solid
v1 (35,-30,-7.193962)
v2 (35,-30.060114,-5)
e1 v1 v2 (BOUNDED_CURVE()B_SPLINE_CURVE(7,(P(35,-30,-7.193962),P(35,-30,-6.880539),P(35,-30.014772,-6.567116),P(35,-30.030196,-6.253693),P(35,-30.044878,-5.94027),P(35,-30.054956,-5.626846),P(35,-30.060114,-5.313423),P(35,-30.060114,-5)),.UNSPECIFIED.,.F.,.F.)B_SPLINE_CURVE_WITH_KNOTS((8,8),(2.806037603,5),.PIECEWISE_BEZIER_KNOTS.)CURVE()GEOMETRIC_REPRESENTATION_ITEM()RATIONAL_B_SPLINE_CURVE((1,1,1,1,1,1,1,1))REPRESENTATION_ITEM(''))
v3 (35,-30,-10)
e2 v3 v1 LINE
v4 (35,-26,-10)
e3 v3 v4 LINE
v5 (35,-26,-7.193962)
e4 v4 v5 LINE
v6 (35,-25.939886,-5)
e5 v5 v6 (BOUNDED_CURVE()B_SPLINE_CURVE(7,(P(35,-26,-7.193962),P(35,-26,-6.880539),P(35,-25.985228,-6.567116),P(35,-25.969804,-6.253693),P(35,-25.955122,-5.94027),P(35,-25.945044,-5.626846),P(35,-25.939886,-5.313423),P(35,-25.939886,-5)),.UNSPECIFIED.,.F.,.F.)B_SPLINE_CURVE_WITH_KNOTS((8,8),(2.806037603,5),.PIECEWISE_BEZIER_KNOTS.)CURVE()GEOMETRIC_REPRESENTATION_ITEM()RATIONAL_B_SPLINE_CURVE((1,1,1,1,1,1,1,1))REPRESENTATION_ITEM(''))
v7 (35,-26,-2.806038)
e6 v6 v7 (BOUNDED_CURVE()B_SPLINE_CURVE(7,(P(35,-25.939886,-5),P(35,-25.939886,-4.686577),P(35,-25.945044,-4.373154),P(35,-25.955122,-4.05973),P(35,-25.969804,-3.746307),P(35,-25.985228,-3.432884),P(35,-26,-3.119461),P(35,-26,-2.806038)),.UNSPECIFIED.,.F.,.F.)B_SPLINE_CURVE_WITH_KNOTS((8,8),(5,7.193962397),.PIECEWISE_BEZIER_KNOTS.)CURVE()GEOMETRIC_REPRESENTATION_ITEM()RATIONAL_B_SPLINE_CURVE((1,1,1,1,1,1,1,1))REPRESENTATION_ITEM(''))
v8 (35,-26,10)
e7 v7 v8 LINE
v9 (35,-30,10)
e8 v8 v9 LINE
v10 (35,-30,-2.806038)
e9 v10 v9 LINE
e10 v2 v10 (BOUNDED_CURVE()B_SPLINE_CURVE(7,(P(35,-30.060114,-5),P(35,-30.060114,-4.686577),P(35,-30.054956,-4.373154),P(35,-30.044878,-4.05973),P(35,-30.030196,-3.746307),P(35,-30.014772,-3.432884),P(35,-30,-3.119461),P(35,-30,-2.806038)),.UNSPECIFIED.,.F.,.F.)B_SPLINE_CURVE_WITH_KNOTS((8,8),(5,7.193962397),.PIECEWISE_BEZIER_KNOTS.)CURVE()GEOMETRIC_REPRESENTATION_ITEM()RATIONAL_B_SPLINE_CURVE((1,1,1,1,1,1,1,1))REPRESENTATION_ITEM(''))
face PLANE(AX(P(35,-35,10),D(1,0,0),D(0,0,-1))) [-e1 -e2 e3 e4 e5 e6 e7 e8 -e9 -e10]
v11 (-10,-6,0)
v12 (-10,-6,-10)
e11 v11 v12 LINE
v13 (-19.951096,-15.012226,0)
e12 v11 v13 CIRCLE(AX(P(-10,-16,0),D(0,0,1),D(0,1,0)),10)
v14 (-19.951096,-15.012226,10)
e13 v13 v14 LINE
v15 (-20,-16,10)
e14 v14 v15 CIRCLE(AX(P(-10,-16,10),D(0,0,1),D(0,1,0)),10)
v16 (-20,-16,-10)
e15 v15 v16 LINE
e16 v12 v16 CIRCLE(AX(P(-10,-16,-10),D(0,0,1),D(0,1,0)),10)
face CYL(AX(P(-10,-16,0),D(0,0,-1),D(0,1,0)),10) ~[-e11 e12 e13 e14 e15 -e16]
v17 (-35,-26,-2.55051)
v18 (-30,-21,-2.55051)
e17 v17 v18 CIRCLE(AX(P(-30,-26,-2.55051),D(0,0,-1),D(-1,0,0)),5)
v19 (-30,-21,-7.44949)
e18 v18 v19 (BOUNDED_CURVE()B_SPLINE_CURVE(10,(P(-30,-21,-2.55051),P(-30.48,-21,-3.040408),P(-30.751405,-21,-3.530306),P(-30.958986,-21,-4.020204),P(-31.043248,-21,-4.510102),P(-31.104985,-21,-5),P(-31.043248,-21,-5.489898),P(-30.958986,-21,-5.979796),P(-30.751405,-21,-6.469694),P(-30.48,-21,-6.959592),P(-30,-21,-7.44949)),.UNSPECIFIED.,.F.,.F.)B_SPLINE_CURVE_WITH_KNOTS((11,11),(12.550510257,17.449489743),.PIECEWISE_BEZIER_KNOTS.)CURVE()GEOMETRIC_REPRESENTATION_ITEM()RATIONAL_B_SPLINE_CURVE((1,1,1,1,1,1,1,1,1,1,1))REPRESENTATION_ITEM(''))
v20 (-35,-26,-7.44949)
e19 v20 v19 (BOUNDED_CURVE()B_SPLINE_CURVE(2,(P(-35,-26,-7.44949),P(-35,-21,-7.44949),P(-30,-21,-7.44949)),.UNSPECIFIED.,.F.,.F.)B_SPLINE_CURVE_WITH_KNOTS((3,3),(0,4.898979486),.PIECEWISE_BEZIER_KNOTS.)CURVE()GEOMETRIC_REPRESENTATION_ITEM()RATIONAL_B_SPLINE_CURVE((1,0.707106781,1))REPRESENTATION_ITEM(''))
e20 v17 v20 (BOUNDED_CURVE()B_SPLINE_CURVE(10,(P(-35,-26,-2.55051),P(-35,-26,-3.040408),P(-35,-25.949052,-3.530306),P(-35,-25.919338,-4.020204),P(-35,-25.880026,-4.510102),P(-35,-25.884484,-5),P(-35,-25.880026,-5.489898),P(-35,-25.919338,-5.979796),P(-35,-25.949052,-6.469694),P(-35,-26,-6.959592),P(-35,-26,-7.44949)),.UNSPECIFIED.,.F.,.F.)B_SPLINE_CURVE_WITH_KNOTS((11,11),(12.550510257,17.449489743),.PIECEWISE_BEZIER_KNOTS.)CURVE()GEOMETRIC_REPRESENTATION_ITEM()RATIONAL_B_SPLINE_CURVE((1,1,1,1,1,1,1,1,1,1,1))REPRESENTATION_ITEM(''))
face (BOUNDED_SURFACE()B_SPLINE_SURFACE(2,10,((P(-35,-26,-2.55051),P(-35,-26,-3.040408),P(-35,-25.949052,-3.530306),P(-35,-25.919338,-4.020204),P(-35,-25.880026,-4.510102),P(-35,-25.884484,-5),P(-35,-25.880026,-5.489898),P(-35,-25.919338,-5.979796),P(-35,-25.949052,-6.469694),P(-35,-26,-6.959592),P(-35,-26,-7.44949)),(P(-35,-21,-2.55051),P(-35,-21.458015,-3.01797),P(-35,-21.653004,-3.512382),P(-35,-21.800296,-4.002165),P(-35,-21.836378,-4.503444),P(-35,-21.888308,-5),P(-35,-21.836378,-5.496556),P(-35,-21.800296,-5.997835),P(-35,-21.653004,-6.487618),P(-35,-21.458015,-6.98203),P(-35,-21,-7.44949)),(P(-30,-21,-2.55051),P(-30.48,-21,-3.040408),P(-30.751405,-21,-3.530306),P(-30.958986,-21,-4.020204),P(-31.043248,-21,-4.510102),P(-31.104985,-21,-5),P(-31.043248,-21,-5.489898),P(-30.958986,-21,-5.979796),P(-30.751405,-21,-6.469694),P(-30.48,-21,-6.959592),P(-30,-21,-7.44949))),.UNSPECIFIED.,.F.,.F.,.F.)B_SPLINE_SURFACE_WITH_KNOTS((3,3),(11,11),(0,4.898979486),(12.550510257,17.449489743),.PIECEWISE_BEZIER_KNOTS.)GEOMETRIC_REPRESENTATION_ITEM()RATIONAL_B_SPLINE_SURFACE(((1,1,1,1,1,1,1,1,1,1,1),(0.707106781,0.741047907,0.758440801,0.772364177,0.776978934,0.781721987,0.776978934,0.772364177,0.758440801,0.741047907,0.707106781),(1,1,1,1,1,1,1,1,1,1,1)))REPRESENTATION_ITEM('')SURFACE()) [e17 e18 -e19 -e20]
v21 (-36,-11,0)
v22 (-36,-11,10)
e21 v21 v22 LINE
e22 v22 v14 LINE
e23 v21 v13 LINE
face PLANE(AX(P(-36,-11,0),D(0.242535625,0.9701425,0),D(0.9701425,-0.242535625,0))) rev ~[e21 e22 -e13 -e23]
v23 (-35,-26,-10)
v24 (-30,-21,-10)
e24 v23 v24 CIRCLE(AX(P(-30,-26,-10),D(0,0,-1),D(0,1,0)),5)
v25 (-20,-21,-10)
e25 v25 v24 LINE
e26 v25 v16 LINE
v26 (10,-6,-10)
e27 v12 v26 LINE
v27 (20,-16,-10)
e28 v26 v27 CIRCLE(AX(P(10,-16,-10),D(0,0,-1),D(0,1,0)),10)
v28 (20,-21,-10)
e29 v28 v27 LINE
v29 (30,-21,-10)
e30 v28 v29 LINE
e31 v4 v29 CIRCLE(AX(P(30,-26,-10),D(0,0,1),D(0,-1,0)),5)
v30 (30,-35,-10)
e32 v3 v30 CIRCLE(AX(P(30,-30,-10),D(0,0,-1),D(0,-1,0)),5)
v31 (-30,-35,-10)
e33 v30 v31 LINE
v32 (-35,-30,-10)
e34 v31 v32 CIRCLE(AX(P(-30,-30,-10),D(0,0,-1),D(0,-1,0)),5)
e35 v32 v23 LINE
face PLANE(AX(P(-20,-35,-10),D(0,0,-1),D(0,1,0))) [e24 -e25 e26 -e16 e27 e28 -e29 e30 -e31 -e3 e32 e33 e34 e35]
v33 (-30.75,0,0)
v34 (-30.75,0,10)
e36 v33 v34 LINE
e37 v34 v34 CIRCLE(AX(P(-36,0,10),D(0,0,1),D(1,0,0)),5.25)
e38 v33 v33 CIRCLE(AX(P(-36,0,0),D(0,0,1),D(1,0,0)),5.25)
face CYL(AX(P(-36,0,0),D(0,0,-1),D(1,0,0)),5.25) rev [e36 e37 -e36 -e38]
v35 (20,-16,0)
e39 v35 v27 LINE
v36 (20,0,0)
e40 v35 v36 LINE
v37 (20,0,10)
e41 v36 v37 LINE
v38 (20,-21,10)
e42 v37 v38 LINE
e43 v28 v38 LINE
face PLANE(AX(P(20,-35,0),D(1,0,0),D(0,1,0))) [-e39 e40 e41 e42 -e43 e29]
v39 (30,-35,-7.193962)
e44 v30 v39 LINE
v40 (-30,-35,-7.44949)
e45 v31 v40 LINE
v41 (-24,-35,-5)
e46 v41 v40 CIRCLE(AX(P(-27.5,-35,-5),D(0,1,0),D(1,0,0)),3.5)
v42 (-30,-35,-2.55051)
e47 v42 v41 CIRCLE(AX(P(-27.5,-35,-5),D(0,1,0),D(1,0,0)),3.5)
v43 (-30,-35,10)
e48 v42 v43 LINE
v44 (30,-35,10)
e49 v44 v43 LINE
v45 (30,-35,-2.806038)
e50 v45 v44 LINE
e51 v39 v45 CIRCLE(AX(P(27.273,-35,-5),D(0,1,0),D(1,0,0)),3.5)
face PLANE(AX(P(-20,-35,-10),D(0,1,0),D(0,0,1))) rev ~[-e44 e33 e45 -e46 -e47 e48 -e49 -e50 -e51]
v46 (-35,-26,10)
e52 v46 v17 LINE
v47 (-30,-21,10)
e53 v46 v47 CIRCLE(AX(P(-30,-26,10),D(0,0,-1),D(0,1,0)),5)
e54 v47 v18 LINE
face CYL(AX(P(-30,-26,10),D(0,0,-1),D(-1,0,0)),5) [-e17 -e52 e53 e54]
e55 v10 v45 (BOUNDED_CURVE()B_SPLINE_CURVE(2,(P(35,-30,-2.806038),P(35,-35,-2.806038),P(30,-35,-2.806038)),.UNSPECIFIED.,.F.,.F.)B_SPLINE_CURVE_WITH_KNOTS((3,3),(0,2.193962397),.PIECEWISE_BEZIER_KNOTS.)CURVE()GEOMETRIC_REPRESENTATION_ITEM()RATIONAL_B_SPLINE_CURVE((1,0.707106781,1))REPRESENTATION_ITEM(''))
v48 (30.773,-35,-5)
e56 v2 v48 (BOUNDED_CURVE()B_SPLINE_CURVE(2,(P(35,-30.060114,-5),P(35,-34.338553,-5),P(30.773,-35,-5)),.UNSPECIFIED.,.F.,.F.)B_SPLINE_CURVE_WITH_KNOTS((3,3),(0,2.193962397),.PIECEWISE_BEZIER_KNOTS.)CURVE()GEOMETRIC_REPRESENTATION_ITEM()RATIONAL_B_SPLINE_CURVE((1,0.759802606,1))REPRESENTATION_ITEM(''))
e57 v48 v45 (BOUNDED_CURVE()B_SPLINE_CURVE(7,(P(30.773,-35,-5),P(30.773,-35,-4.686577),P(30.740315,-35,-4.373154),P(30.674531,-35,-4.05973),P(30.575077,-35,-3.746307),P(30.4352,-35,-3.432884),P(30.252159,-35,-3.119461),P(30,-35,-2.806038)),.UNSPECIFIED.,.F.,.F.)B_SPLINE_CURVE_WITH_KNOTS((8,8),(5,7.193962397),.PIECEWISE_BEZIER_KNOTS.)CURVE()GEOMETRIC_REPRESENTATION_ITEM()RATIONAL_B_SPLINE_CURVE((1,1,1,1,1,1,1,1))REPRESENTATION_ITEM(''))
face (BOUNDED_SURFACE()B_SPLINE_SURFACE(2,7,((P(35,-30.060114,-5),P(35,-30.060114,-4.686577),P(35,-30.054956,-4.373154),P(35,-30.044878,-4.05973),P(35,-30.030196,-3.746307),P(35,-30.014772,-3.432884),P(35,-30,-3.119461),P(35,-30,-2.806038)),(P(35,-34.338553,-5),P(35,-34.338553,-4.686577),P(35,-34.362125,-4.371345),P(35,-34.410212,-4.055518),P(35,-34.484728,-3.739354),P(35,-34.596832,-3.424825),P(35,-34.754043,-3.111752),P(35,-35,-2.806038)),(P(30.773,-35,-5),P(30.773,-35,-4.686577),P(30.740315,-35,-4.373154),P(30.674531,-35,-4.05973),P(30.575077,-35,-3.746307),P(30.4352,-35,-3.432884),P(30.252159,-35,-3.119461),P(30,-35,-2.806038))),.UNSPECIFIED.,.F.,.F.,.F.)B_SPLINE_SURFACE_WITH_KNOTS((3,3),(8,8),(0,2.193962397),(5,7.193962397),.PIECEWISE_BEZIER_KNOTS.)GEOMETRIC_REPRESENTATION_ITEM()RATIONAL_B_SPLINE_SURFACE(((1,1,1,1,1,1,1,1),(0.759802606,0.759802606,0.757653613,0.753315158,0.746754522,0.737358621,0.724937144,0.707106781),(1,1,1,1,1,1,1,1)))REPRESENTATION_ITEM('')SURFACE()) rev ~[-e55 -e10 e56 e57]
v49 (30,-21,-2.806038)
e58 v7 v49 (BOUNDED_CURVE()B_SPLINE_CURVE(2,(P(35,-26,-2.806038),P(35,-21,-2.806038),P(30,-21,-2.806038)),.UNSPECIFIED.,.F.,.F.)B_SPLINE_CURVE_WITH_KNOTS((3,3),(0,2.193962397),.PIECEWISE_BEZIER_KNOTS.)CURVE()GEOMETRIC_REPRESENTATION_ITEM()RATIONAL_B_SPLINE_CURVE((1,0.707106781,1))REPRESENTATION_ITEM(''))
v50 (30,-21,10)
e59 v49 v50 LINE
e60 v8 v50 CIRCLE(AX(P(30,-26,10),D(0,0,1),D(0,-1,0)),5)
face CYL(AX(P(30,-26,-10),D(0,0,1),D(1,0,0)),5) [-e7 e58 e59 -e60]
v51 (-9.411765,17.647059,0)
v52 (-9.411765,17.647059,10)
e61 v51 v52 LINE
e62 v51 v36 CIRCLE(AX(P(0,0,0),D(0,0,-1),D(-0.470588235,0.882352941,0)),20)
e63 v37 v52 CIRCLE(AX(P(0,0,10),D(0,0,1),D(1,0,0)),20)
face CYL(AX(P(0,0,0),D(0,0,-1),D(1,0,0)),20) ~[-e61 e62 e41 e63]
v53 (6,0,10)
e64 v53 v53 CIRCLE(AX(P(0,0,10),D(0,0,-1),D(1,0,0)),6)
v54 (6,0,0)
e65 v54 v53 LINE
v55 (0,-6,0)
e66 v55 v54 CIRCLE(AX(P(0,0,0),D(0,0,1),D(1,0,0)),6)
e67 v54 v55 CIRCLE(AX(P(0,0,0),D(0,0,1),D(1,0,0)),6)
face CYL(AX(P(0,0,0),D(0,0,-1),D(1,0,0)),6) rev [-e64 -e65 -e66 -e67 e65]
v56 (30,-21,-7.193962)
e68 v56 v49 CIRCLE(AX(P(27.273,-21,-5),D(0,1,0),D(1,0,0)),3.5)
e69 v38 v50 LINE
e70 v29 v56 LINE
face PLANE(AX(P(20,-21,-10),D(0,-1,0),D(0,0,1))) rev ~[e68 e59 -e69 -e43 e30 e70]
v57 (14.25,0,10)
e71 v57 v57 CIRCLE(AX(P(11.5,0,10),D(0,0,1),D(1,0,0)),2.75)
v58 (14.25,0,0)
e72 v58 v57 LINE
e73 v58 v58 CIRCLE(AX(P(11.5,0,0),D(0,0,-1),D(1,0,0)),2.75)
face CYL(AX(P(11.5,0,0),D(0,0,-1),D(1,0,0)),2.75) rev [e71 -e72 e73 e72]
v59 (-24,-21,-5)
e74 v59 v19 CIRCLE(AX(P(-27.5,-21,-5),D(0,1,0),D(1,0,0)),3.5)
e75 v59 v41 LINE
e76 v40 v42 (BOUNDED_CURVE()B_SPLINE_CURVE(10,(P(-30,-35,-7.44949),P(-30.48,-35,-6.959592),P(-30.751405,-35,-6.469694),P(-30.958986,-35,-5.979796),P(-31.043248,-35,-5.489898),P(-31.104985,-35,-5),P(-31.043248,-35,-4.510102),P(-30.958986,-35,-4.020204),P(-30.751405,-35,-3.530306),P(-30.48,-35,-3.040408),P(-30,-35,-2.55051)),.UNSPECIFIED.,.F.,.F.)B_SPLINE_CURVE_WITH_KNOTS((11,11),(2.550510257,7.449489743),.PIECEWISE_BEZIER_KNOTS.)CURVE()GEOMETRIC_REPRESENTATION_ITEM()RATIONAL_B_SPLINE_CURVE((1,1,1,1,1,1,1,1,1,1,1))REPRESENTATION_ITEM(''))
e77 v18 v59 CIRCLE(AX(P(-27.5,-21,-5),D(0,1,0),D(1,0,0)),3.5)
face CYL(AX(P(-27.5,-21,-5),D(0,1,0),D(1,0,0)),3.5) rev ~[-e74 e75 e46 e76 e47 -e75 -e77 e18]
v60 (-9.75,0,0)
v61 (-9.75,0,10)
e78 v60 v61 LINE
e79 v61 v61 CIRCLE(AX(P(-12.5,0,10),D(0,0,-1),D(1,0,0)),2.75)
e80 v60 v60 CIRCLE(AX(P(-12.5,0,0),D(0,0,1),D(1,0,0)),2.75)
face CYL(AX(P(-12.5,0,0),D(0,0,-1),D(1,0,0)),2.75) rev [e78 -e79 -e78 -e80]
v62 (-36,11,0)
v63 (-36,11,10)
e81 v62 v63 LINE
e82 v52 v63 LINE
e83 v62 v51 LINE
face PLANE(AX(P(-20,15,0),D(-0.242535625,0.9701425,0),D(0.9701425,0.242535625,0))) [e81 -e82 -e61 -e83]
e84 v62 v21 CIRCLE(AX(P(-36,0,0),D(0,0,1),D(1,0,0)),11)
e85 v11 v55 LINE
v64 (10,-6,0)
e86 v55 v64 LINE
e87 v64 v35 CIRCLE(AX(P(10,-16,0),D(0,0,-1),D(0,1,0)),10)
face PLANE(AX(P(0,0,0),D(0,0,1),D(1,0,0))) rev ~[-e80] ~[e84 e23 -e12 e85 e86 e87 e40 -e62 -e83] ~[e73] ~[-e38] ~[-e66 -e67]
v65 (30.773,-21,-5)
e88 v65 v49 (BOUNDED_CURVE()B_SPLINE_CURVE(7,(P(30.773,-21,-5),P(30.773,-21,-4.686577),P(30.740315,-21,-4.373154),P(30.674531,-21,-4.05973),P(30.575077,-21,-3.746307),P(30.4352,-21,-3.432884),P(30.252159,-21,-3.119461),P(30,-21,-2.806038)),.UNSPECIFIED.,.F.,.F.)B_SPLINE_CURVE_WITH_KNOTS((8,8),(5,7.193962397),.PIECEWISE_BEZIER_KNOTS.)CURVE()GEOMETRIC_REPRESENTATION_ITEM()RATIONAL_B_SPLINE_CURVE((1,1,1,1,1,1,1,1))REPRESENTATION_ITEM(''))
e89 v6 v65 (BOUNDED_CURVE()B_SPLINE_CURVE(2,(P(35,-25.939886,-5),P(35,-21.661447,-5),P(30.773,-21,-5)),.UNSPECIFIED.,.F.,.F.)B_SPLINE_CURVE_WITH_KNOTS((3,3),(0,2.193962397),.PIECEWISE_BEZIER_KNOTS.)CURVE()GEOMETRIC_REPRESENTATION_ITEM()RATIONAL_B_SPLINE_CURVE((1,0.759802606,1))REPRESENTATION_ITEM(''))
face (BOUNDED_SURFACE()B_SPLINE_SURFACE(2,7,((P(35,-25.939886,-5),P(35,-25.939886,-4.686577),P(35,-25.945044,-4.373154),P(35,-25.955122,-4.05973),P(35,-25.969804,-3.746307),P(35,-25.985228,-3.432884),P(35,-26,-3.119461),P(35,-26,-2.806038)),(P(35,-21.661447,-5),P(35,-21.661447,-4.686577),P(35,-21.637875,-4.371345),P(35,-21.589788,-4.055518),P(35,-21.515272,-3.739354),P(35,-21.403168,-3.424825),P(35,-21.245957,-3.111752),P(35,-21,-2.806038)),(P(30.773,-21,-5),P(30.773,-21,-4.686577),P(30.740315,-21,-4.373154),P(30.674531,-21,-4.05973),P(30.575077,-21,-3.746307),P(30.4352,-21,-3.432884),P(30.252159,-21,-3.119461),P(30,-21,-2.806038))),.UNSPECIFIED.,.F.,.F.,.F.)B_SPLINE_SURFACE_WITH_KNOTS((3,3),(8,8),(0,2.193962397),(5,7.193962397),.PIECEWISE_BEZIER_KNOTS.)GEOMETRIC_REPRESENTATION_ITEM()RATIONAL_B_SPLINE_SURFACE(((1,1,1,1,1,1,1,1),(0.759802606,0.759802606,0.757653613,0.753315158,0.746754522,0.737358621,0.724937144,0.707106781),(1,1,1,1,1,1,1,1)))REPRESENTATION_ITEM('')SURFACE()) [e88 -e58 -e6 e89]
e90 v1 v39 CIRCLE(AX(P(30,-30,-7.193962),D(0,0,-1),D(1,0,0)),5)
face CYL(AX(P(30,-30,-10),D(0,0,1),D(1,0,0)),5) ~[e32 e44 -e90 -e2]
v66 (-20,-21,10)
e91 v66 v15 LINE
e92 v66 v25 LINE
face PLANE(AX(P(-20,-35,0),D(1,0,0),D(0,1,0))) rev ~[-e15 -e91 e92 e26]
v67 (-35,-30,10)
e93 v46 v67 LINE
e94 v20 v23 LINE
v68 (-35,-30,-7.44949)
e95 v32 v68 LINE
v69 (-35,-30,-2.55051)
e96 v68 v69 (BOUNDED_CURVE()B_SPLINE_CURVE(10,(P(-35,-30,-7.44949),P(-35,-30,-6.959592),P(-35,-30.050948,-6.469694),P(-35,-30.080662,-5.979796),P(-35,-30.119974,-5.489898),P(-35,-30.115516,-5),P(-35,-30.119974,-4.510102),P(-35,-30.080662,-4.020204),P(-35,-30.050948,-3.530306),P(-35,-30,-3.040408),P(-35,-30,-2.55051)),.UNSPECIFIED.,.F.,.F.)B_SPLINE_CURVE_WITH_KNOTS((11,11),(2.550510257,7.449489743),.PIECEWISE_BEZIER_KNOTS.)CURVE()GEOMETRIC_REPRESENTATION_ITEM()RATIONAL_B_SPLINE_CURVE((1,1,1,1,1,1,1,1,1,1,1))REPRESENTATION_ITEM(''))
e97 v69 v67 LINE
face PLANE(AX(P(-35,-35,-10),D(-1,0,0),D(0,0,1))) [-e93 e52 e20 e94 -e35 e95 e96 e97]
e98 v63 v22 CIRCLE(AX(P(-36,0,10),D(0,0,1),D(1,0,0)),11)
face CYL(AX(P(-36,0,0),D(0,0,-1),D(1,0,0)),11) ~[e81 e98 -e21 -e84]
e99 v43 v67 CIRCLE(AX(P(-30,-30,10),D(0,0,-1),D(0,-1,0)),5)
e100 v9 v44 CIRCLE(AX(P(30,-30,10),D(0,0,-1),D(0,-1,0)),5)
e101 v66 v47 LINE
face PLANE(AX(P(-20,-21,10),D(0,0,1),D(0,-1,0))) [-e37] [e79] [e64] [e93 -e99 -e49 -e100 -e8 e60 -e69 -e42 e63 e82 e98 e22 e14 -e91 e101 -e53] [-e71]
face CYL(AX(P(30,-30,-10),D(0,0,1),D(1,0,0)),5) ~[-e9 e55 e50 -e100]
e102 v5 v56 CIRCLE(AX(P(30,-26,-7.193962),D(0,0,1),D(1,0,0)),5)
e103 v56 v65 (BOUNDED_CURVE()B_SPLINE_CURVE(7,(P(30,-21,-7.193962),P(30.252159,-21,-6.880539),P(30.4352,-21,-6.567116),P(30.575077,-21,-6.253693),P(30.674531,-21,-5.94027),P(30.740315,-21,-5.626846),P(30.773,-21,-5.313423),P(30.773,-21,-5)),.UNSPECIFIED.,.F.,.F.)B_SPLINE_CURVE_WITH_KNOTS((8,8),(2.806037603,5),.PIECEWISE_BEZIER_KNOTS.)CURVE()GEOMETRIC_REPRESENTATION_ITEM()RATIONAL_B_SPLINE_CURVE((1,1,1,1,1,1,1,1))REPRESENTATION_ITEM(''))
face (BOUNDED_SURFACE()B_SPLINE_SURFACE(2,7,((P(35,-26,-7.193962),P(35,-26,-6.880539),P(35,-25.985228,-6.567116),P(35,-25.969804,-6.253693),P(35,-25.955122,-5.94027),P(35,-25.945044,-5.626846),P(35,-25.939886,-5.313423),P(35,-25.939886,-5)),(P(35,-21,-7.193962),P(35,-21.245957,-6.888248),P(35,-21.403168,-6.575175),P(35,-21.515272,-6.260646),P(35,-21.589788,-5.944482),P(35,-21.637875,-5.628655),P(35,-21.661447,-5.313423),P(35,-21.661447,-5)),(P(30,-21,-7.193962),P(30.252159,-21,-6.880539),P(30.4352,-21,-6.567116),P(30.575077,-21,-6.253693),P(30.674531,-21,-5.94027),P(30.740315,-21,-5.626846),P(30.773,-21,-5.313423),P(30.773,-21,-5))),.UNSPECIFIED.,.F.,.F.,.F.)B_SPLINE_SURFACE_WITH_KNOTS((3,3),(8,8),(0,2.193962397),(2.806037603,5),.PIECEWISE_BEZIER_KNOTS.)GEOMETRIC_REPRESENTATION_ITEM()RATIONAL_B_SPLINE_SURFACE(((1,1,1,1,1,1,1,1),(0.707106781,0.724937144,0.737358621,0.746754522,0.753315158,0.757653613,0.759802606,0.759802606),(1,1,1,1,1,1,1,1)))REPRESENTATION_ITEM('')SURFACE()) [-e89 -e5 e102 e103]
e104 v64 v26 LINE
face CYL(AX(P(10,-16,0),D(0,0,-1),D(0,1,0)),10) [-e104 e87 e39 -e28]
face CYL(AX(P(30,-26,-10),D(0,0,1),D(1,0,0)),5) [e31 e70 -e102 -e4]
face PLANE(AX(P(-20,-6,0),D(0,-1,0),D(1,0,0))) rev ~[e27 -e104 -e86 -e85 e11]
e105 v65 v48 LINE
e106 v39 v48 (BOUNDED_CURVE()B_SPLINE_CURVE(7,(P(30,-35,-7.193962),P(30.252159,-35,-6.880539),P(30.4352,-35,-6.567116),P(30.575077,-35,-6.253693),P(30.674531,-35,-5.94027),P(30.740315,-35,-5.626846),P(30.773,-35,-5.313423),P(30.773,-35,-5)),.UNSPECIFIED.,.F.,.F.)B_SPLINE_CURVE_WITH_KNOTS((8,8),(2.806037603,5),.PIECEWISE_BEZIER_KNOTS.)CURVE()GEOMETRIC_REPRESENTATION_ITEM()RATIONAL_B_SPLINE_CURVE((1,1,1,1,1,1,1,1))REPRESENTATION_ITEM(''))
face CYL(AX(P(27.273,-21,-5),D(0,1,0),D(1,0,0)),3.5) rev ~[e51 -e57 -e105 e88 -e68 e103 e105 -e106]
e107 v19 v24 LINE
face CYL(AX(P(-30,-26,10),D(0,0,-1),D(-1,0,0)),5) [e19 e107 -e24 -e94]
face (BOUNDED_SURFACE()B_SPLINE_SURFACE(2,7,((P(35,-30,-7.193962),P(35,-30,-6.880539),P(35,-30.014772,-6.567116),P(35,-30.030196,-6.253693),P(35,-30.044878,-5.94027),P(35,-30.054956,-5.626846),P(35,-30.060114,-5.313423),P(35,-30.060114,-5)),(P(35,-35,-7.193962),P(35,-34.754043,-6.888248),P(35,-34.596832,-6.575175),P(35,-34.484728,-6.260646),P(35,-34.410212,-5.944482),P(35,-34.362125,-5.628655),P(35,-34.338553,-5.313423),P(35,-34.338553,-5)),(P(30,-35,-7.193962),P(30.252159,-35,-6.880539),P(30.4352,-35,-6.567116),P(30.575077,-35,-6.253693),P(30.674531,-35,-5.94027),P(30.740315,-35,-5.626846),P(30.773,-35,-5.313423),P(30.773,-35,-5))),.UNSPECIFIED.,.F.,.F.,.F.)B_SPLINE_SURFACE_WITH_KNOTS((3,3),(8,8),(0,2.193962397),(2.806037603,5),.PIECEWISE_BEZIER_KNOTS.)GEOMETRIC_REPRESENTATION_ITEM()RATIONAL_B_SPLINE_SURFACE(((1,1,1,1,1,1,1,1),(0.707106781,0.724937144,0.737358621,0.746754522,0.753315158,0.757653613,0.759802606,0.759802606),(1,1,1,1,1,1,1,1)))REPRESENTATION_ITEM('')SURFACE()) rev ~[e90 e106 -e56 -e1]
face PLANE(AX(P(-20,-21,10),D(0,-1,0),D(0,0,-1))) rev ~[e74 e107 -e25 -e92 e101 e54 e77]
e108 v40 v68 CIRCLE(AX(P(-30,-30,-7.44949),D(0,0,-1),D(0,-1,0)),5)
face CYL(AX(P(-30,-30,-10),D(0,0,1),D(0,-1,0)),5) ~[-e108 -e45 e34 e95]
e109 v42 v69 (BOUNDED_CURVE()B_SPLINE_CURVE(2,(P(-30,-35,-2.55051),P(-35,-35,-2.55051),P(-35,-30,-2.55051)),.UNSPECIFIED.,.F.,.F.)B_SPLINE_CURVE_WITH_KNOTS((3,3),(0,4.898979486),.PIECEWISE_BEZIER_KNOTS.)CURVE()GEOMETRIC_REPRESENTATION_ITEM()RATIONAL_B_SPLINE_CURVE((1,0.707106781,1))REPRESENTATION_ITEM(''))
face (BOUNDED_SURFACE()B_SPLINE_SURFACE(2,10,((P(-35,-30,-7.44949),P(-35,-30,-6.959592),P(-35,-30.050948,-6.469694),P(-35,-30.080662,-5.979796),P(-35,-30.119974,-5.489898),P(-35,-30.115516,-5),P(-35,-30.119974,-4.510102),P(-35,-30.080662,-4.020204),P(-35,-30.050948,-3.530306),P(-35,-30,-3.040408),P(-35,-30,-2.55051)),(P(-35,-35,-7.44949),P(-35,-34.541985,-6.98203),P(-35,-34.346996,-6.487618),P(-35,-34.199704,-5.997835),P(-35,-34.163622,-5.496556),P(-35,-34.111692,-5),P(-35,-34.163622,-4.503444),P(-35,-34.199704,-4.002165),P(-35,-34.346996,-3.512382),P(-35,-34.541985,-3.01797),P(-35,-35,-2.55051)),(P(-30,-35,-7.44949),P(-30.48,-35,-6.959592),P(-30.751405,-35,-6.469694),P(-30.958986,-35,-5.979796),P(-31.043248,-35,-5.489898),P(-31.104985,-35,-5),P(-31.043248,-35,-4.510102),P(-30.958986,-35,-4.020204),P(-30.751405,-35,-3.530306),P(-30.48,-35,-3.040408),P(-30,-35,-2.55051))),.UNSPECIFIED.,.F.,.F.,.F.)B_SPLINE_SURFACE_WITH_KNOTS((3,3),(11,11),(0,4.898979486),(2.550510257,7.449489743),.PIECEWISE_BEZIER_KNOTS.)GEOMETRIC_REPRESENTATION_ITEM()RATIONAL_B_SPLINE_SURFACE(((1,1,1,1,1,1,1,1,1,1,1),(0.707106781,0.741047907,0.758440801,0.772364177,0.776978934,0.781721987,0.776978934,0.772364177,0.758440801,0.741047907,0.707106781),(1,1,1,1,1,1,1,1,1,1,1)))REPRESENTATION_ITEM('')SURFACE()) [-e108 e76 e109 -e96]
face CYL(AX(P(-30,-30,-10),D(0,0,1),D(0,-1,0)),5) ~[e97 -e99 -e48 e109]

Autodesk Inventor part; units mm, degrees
ref_plane "YZ Plane" through (0, 0, 0) normal (1, 0, 0) x (0, 1, 0)
ref_plane "XZ Plane" through (0, 0, 0) normal (0, 1, 0) x (-1, 0, 0)
ref_plane "XY Plane" through (0, 0, 0) normal (0, 0, 1) x (1, 0, 0)
sketch "Sketch1" plane through (0, 0, 0) normal (0, 0, 1) x (1, 0, 0)
  circle A0 centre (0, 0) radius 20
  circle A1 centre (0, 0) radius 6
  line L0 (0, 0) -> (-12.5, 0)
  line L1 (0, 0) -> (11.5, 0)
  circle A2 centre (-12.5, 0) radius 2.75
  circle A3 centre (11.5, 0) radius 2.75
  line L2 (0, 0) -> (-36, 0)
  circle A4 centre (-36, 0) radius 5.25
  circle A5 centre (-36, 0) radius 11
  line L3 (-36, 11) -> (0, 20)
  line L4 (-36, -11) -> (0, -20)
  line L5 (20, 0) -> (-20, 0)
  line L6 (-20, 0) -> (-20, 20)
  line L7 (-20, 20) -> (20, 20)
  line L8 (20, 20) -> (20, 0)
  line L9 (-20, 0) -> (20, 0)
  line L10 (20, 0) -> (20, -35)
  line L11 (20, -35) -> (-20, -35)
  line L12 (-20, -35) -> (-20, 0)
  point P0 (-9.4118, -17.6471)
  point P1 (-9.4118, 17.6471)
  point P2 (-20, -15)
  dimension "d0" = 40
  dimension "d1" = 12
  dimension "d2" = 12.5
  dimension "d3" = 11.5
  dimension "d4" = 5.5
  dimension "d5" = 5.5
  dimension "d8" = 36
  dimension "d9" = 10.5
  dimension "d10" = 22
  dimension "d11" = 40
  dimension "d12" = 20
  dimension "d13" = 40
  dimension "d14" = 35
extrude "Extrusion1" add sketch "Sketch1" along normal blind 10 contours L5 A3 L1 A1 L0 A2 L2 A0 L3 | L10 L11 L12 L4 A0 | A0 L4 L2 A2 L0 A1 L1 A3 L5 | L3 A0 | A0 L4 | A0 L6 L3 | L4 L12 A0 | L12 L4 A5 L2 | L2 A5 L3 L6 | A5
sketch "Sketch3" plane through (0, 0, 0) normal (0, 0, -1) x (-1, 0, 0)
  line L0 (-20, -35) -> (-20, 0) projected
  line L1 (-20, -35) -> (20, -35)
  line L2 (20, -35) -> (20, -6)
  line L3 (20, -6) -> (-20, -6)
  line L4 (-20, -6) -> (-20, -35)
  point P0 (0, 0)
  point P1 (-20, -6)
  dimension "d15" = 40
  dimension "d16" = 29
extrude "Extrusion2" add sketch "Sketch3" along normal blind 10
fillet "Fillet3" radius 10 1 edges at (-20, -6, -5)
fillet "Fillet4" radius 10 1 edges at (20, -6, -5)
sketch "Sketch4" plane through (20, -35, 10) normal (1, 0, 0) x (0, 0, -1)
  line L0 (20, 0) -> (0, 0) projected
  line L1 (0, 0) -> (20, 0)
  line L2 (20, 0) -> (20, 14)
  line L3 (20, 14) -> (0, 14)
  line L4 (0, 14) -> (0, 0)
  point P0 (10, 35)
  dimension "d23" = 20
  dimension "d24" = 14
extrude "Extrusion3" add sketch "Sketch4" along normal blind 15
sketch "Sketch5" plane through (-20, -35, -10) normal (-1, 0, 0) x (0, 0, 1)
  line L0 (0, 0) -> (0, 14) projected
  line L1 (20, 14) -> (20, 0) projected
  line L2 (0, 0) -> (20, 0)
  line L3 (20, 0) -> (20, 14)
  line L4 (20, 14) -> (0, 14)
  line L5 (0, 14) -> (0, 0)
  point P0 (10, 35)
  dimension "d27" = 20
extrude "Extrusion4" add sketch "Sketch5" along normal blind 15
sketch "Sketch6" plane through (-20, -21, 10) normal (0, 1, 0) x (1, 0, 0)
  circle A0 centre (-7.5, 15) radius 3.5
  point P0 (20, 10)
  dimension "d30" = 7
sketch "Sketch7" plane through (20, -21, 10) normal (0, 1, 0) x (1, 0, 0)
  circle A0 centre (7.273, 15) radius 3.5
  point P0 (-20, 10)
  dimension "d31" = 7
extrude "Extrusion5" cut sketch "Sketch7" against normal blind 15
extrude "Extrusion6" cut sketch "Sketch6" against normal blind 15
fillet "Fillet5" radius 5 1 edges at (35, -35, 0)
fillet "Fillet6" radius 5 1 edges at (35, -21, 0)
fillet "Fillet7" radius 5 1 edges at (-35, -35, 0)
fillet "Fillet8" radius 5 1 edges at (-35, -21, 0)
properties part number "suportCaptor"
